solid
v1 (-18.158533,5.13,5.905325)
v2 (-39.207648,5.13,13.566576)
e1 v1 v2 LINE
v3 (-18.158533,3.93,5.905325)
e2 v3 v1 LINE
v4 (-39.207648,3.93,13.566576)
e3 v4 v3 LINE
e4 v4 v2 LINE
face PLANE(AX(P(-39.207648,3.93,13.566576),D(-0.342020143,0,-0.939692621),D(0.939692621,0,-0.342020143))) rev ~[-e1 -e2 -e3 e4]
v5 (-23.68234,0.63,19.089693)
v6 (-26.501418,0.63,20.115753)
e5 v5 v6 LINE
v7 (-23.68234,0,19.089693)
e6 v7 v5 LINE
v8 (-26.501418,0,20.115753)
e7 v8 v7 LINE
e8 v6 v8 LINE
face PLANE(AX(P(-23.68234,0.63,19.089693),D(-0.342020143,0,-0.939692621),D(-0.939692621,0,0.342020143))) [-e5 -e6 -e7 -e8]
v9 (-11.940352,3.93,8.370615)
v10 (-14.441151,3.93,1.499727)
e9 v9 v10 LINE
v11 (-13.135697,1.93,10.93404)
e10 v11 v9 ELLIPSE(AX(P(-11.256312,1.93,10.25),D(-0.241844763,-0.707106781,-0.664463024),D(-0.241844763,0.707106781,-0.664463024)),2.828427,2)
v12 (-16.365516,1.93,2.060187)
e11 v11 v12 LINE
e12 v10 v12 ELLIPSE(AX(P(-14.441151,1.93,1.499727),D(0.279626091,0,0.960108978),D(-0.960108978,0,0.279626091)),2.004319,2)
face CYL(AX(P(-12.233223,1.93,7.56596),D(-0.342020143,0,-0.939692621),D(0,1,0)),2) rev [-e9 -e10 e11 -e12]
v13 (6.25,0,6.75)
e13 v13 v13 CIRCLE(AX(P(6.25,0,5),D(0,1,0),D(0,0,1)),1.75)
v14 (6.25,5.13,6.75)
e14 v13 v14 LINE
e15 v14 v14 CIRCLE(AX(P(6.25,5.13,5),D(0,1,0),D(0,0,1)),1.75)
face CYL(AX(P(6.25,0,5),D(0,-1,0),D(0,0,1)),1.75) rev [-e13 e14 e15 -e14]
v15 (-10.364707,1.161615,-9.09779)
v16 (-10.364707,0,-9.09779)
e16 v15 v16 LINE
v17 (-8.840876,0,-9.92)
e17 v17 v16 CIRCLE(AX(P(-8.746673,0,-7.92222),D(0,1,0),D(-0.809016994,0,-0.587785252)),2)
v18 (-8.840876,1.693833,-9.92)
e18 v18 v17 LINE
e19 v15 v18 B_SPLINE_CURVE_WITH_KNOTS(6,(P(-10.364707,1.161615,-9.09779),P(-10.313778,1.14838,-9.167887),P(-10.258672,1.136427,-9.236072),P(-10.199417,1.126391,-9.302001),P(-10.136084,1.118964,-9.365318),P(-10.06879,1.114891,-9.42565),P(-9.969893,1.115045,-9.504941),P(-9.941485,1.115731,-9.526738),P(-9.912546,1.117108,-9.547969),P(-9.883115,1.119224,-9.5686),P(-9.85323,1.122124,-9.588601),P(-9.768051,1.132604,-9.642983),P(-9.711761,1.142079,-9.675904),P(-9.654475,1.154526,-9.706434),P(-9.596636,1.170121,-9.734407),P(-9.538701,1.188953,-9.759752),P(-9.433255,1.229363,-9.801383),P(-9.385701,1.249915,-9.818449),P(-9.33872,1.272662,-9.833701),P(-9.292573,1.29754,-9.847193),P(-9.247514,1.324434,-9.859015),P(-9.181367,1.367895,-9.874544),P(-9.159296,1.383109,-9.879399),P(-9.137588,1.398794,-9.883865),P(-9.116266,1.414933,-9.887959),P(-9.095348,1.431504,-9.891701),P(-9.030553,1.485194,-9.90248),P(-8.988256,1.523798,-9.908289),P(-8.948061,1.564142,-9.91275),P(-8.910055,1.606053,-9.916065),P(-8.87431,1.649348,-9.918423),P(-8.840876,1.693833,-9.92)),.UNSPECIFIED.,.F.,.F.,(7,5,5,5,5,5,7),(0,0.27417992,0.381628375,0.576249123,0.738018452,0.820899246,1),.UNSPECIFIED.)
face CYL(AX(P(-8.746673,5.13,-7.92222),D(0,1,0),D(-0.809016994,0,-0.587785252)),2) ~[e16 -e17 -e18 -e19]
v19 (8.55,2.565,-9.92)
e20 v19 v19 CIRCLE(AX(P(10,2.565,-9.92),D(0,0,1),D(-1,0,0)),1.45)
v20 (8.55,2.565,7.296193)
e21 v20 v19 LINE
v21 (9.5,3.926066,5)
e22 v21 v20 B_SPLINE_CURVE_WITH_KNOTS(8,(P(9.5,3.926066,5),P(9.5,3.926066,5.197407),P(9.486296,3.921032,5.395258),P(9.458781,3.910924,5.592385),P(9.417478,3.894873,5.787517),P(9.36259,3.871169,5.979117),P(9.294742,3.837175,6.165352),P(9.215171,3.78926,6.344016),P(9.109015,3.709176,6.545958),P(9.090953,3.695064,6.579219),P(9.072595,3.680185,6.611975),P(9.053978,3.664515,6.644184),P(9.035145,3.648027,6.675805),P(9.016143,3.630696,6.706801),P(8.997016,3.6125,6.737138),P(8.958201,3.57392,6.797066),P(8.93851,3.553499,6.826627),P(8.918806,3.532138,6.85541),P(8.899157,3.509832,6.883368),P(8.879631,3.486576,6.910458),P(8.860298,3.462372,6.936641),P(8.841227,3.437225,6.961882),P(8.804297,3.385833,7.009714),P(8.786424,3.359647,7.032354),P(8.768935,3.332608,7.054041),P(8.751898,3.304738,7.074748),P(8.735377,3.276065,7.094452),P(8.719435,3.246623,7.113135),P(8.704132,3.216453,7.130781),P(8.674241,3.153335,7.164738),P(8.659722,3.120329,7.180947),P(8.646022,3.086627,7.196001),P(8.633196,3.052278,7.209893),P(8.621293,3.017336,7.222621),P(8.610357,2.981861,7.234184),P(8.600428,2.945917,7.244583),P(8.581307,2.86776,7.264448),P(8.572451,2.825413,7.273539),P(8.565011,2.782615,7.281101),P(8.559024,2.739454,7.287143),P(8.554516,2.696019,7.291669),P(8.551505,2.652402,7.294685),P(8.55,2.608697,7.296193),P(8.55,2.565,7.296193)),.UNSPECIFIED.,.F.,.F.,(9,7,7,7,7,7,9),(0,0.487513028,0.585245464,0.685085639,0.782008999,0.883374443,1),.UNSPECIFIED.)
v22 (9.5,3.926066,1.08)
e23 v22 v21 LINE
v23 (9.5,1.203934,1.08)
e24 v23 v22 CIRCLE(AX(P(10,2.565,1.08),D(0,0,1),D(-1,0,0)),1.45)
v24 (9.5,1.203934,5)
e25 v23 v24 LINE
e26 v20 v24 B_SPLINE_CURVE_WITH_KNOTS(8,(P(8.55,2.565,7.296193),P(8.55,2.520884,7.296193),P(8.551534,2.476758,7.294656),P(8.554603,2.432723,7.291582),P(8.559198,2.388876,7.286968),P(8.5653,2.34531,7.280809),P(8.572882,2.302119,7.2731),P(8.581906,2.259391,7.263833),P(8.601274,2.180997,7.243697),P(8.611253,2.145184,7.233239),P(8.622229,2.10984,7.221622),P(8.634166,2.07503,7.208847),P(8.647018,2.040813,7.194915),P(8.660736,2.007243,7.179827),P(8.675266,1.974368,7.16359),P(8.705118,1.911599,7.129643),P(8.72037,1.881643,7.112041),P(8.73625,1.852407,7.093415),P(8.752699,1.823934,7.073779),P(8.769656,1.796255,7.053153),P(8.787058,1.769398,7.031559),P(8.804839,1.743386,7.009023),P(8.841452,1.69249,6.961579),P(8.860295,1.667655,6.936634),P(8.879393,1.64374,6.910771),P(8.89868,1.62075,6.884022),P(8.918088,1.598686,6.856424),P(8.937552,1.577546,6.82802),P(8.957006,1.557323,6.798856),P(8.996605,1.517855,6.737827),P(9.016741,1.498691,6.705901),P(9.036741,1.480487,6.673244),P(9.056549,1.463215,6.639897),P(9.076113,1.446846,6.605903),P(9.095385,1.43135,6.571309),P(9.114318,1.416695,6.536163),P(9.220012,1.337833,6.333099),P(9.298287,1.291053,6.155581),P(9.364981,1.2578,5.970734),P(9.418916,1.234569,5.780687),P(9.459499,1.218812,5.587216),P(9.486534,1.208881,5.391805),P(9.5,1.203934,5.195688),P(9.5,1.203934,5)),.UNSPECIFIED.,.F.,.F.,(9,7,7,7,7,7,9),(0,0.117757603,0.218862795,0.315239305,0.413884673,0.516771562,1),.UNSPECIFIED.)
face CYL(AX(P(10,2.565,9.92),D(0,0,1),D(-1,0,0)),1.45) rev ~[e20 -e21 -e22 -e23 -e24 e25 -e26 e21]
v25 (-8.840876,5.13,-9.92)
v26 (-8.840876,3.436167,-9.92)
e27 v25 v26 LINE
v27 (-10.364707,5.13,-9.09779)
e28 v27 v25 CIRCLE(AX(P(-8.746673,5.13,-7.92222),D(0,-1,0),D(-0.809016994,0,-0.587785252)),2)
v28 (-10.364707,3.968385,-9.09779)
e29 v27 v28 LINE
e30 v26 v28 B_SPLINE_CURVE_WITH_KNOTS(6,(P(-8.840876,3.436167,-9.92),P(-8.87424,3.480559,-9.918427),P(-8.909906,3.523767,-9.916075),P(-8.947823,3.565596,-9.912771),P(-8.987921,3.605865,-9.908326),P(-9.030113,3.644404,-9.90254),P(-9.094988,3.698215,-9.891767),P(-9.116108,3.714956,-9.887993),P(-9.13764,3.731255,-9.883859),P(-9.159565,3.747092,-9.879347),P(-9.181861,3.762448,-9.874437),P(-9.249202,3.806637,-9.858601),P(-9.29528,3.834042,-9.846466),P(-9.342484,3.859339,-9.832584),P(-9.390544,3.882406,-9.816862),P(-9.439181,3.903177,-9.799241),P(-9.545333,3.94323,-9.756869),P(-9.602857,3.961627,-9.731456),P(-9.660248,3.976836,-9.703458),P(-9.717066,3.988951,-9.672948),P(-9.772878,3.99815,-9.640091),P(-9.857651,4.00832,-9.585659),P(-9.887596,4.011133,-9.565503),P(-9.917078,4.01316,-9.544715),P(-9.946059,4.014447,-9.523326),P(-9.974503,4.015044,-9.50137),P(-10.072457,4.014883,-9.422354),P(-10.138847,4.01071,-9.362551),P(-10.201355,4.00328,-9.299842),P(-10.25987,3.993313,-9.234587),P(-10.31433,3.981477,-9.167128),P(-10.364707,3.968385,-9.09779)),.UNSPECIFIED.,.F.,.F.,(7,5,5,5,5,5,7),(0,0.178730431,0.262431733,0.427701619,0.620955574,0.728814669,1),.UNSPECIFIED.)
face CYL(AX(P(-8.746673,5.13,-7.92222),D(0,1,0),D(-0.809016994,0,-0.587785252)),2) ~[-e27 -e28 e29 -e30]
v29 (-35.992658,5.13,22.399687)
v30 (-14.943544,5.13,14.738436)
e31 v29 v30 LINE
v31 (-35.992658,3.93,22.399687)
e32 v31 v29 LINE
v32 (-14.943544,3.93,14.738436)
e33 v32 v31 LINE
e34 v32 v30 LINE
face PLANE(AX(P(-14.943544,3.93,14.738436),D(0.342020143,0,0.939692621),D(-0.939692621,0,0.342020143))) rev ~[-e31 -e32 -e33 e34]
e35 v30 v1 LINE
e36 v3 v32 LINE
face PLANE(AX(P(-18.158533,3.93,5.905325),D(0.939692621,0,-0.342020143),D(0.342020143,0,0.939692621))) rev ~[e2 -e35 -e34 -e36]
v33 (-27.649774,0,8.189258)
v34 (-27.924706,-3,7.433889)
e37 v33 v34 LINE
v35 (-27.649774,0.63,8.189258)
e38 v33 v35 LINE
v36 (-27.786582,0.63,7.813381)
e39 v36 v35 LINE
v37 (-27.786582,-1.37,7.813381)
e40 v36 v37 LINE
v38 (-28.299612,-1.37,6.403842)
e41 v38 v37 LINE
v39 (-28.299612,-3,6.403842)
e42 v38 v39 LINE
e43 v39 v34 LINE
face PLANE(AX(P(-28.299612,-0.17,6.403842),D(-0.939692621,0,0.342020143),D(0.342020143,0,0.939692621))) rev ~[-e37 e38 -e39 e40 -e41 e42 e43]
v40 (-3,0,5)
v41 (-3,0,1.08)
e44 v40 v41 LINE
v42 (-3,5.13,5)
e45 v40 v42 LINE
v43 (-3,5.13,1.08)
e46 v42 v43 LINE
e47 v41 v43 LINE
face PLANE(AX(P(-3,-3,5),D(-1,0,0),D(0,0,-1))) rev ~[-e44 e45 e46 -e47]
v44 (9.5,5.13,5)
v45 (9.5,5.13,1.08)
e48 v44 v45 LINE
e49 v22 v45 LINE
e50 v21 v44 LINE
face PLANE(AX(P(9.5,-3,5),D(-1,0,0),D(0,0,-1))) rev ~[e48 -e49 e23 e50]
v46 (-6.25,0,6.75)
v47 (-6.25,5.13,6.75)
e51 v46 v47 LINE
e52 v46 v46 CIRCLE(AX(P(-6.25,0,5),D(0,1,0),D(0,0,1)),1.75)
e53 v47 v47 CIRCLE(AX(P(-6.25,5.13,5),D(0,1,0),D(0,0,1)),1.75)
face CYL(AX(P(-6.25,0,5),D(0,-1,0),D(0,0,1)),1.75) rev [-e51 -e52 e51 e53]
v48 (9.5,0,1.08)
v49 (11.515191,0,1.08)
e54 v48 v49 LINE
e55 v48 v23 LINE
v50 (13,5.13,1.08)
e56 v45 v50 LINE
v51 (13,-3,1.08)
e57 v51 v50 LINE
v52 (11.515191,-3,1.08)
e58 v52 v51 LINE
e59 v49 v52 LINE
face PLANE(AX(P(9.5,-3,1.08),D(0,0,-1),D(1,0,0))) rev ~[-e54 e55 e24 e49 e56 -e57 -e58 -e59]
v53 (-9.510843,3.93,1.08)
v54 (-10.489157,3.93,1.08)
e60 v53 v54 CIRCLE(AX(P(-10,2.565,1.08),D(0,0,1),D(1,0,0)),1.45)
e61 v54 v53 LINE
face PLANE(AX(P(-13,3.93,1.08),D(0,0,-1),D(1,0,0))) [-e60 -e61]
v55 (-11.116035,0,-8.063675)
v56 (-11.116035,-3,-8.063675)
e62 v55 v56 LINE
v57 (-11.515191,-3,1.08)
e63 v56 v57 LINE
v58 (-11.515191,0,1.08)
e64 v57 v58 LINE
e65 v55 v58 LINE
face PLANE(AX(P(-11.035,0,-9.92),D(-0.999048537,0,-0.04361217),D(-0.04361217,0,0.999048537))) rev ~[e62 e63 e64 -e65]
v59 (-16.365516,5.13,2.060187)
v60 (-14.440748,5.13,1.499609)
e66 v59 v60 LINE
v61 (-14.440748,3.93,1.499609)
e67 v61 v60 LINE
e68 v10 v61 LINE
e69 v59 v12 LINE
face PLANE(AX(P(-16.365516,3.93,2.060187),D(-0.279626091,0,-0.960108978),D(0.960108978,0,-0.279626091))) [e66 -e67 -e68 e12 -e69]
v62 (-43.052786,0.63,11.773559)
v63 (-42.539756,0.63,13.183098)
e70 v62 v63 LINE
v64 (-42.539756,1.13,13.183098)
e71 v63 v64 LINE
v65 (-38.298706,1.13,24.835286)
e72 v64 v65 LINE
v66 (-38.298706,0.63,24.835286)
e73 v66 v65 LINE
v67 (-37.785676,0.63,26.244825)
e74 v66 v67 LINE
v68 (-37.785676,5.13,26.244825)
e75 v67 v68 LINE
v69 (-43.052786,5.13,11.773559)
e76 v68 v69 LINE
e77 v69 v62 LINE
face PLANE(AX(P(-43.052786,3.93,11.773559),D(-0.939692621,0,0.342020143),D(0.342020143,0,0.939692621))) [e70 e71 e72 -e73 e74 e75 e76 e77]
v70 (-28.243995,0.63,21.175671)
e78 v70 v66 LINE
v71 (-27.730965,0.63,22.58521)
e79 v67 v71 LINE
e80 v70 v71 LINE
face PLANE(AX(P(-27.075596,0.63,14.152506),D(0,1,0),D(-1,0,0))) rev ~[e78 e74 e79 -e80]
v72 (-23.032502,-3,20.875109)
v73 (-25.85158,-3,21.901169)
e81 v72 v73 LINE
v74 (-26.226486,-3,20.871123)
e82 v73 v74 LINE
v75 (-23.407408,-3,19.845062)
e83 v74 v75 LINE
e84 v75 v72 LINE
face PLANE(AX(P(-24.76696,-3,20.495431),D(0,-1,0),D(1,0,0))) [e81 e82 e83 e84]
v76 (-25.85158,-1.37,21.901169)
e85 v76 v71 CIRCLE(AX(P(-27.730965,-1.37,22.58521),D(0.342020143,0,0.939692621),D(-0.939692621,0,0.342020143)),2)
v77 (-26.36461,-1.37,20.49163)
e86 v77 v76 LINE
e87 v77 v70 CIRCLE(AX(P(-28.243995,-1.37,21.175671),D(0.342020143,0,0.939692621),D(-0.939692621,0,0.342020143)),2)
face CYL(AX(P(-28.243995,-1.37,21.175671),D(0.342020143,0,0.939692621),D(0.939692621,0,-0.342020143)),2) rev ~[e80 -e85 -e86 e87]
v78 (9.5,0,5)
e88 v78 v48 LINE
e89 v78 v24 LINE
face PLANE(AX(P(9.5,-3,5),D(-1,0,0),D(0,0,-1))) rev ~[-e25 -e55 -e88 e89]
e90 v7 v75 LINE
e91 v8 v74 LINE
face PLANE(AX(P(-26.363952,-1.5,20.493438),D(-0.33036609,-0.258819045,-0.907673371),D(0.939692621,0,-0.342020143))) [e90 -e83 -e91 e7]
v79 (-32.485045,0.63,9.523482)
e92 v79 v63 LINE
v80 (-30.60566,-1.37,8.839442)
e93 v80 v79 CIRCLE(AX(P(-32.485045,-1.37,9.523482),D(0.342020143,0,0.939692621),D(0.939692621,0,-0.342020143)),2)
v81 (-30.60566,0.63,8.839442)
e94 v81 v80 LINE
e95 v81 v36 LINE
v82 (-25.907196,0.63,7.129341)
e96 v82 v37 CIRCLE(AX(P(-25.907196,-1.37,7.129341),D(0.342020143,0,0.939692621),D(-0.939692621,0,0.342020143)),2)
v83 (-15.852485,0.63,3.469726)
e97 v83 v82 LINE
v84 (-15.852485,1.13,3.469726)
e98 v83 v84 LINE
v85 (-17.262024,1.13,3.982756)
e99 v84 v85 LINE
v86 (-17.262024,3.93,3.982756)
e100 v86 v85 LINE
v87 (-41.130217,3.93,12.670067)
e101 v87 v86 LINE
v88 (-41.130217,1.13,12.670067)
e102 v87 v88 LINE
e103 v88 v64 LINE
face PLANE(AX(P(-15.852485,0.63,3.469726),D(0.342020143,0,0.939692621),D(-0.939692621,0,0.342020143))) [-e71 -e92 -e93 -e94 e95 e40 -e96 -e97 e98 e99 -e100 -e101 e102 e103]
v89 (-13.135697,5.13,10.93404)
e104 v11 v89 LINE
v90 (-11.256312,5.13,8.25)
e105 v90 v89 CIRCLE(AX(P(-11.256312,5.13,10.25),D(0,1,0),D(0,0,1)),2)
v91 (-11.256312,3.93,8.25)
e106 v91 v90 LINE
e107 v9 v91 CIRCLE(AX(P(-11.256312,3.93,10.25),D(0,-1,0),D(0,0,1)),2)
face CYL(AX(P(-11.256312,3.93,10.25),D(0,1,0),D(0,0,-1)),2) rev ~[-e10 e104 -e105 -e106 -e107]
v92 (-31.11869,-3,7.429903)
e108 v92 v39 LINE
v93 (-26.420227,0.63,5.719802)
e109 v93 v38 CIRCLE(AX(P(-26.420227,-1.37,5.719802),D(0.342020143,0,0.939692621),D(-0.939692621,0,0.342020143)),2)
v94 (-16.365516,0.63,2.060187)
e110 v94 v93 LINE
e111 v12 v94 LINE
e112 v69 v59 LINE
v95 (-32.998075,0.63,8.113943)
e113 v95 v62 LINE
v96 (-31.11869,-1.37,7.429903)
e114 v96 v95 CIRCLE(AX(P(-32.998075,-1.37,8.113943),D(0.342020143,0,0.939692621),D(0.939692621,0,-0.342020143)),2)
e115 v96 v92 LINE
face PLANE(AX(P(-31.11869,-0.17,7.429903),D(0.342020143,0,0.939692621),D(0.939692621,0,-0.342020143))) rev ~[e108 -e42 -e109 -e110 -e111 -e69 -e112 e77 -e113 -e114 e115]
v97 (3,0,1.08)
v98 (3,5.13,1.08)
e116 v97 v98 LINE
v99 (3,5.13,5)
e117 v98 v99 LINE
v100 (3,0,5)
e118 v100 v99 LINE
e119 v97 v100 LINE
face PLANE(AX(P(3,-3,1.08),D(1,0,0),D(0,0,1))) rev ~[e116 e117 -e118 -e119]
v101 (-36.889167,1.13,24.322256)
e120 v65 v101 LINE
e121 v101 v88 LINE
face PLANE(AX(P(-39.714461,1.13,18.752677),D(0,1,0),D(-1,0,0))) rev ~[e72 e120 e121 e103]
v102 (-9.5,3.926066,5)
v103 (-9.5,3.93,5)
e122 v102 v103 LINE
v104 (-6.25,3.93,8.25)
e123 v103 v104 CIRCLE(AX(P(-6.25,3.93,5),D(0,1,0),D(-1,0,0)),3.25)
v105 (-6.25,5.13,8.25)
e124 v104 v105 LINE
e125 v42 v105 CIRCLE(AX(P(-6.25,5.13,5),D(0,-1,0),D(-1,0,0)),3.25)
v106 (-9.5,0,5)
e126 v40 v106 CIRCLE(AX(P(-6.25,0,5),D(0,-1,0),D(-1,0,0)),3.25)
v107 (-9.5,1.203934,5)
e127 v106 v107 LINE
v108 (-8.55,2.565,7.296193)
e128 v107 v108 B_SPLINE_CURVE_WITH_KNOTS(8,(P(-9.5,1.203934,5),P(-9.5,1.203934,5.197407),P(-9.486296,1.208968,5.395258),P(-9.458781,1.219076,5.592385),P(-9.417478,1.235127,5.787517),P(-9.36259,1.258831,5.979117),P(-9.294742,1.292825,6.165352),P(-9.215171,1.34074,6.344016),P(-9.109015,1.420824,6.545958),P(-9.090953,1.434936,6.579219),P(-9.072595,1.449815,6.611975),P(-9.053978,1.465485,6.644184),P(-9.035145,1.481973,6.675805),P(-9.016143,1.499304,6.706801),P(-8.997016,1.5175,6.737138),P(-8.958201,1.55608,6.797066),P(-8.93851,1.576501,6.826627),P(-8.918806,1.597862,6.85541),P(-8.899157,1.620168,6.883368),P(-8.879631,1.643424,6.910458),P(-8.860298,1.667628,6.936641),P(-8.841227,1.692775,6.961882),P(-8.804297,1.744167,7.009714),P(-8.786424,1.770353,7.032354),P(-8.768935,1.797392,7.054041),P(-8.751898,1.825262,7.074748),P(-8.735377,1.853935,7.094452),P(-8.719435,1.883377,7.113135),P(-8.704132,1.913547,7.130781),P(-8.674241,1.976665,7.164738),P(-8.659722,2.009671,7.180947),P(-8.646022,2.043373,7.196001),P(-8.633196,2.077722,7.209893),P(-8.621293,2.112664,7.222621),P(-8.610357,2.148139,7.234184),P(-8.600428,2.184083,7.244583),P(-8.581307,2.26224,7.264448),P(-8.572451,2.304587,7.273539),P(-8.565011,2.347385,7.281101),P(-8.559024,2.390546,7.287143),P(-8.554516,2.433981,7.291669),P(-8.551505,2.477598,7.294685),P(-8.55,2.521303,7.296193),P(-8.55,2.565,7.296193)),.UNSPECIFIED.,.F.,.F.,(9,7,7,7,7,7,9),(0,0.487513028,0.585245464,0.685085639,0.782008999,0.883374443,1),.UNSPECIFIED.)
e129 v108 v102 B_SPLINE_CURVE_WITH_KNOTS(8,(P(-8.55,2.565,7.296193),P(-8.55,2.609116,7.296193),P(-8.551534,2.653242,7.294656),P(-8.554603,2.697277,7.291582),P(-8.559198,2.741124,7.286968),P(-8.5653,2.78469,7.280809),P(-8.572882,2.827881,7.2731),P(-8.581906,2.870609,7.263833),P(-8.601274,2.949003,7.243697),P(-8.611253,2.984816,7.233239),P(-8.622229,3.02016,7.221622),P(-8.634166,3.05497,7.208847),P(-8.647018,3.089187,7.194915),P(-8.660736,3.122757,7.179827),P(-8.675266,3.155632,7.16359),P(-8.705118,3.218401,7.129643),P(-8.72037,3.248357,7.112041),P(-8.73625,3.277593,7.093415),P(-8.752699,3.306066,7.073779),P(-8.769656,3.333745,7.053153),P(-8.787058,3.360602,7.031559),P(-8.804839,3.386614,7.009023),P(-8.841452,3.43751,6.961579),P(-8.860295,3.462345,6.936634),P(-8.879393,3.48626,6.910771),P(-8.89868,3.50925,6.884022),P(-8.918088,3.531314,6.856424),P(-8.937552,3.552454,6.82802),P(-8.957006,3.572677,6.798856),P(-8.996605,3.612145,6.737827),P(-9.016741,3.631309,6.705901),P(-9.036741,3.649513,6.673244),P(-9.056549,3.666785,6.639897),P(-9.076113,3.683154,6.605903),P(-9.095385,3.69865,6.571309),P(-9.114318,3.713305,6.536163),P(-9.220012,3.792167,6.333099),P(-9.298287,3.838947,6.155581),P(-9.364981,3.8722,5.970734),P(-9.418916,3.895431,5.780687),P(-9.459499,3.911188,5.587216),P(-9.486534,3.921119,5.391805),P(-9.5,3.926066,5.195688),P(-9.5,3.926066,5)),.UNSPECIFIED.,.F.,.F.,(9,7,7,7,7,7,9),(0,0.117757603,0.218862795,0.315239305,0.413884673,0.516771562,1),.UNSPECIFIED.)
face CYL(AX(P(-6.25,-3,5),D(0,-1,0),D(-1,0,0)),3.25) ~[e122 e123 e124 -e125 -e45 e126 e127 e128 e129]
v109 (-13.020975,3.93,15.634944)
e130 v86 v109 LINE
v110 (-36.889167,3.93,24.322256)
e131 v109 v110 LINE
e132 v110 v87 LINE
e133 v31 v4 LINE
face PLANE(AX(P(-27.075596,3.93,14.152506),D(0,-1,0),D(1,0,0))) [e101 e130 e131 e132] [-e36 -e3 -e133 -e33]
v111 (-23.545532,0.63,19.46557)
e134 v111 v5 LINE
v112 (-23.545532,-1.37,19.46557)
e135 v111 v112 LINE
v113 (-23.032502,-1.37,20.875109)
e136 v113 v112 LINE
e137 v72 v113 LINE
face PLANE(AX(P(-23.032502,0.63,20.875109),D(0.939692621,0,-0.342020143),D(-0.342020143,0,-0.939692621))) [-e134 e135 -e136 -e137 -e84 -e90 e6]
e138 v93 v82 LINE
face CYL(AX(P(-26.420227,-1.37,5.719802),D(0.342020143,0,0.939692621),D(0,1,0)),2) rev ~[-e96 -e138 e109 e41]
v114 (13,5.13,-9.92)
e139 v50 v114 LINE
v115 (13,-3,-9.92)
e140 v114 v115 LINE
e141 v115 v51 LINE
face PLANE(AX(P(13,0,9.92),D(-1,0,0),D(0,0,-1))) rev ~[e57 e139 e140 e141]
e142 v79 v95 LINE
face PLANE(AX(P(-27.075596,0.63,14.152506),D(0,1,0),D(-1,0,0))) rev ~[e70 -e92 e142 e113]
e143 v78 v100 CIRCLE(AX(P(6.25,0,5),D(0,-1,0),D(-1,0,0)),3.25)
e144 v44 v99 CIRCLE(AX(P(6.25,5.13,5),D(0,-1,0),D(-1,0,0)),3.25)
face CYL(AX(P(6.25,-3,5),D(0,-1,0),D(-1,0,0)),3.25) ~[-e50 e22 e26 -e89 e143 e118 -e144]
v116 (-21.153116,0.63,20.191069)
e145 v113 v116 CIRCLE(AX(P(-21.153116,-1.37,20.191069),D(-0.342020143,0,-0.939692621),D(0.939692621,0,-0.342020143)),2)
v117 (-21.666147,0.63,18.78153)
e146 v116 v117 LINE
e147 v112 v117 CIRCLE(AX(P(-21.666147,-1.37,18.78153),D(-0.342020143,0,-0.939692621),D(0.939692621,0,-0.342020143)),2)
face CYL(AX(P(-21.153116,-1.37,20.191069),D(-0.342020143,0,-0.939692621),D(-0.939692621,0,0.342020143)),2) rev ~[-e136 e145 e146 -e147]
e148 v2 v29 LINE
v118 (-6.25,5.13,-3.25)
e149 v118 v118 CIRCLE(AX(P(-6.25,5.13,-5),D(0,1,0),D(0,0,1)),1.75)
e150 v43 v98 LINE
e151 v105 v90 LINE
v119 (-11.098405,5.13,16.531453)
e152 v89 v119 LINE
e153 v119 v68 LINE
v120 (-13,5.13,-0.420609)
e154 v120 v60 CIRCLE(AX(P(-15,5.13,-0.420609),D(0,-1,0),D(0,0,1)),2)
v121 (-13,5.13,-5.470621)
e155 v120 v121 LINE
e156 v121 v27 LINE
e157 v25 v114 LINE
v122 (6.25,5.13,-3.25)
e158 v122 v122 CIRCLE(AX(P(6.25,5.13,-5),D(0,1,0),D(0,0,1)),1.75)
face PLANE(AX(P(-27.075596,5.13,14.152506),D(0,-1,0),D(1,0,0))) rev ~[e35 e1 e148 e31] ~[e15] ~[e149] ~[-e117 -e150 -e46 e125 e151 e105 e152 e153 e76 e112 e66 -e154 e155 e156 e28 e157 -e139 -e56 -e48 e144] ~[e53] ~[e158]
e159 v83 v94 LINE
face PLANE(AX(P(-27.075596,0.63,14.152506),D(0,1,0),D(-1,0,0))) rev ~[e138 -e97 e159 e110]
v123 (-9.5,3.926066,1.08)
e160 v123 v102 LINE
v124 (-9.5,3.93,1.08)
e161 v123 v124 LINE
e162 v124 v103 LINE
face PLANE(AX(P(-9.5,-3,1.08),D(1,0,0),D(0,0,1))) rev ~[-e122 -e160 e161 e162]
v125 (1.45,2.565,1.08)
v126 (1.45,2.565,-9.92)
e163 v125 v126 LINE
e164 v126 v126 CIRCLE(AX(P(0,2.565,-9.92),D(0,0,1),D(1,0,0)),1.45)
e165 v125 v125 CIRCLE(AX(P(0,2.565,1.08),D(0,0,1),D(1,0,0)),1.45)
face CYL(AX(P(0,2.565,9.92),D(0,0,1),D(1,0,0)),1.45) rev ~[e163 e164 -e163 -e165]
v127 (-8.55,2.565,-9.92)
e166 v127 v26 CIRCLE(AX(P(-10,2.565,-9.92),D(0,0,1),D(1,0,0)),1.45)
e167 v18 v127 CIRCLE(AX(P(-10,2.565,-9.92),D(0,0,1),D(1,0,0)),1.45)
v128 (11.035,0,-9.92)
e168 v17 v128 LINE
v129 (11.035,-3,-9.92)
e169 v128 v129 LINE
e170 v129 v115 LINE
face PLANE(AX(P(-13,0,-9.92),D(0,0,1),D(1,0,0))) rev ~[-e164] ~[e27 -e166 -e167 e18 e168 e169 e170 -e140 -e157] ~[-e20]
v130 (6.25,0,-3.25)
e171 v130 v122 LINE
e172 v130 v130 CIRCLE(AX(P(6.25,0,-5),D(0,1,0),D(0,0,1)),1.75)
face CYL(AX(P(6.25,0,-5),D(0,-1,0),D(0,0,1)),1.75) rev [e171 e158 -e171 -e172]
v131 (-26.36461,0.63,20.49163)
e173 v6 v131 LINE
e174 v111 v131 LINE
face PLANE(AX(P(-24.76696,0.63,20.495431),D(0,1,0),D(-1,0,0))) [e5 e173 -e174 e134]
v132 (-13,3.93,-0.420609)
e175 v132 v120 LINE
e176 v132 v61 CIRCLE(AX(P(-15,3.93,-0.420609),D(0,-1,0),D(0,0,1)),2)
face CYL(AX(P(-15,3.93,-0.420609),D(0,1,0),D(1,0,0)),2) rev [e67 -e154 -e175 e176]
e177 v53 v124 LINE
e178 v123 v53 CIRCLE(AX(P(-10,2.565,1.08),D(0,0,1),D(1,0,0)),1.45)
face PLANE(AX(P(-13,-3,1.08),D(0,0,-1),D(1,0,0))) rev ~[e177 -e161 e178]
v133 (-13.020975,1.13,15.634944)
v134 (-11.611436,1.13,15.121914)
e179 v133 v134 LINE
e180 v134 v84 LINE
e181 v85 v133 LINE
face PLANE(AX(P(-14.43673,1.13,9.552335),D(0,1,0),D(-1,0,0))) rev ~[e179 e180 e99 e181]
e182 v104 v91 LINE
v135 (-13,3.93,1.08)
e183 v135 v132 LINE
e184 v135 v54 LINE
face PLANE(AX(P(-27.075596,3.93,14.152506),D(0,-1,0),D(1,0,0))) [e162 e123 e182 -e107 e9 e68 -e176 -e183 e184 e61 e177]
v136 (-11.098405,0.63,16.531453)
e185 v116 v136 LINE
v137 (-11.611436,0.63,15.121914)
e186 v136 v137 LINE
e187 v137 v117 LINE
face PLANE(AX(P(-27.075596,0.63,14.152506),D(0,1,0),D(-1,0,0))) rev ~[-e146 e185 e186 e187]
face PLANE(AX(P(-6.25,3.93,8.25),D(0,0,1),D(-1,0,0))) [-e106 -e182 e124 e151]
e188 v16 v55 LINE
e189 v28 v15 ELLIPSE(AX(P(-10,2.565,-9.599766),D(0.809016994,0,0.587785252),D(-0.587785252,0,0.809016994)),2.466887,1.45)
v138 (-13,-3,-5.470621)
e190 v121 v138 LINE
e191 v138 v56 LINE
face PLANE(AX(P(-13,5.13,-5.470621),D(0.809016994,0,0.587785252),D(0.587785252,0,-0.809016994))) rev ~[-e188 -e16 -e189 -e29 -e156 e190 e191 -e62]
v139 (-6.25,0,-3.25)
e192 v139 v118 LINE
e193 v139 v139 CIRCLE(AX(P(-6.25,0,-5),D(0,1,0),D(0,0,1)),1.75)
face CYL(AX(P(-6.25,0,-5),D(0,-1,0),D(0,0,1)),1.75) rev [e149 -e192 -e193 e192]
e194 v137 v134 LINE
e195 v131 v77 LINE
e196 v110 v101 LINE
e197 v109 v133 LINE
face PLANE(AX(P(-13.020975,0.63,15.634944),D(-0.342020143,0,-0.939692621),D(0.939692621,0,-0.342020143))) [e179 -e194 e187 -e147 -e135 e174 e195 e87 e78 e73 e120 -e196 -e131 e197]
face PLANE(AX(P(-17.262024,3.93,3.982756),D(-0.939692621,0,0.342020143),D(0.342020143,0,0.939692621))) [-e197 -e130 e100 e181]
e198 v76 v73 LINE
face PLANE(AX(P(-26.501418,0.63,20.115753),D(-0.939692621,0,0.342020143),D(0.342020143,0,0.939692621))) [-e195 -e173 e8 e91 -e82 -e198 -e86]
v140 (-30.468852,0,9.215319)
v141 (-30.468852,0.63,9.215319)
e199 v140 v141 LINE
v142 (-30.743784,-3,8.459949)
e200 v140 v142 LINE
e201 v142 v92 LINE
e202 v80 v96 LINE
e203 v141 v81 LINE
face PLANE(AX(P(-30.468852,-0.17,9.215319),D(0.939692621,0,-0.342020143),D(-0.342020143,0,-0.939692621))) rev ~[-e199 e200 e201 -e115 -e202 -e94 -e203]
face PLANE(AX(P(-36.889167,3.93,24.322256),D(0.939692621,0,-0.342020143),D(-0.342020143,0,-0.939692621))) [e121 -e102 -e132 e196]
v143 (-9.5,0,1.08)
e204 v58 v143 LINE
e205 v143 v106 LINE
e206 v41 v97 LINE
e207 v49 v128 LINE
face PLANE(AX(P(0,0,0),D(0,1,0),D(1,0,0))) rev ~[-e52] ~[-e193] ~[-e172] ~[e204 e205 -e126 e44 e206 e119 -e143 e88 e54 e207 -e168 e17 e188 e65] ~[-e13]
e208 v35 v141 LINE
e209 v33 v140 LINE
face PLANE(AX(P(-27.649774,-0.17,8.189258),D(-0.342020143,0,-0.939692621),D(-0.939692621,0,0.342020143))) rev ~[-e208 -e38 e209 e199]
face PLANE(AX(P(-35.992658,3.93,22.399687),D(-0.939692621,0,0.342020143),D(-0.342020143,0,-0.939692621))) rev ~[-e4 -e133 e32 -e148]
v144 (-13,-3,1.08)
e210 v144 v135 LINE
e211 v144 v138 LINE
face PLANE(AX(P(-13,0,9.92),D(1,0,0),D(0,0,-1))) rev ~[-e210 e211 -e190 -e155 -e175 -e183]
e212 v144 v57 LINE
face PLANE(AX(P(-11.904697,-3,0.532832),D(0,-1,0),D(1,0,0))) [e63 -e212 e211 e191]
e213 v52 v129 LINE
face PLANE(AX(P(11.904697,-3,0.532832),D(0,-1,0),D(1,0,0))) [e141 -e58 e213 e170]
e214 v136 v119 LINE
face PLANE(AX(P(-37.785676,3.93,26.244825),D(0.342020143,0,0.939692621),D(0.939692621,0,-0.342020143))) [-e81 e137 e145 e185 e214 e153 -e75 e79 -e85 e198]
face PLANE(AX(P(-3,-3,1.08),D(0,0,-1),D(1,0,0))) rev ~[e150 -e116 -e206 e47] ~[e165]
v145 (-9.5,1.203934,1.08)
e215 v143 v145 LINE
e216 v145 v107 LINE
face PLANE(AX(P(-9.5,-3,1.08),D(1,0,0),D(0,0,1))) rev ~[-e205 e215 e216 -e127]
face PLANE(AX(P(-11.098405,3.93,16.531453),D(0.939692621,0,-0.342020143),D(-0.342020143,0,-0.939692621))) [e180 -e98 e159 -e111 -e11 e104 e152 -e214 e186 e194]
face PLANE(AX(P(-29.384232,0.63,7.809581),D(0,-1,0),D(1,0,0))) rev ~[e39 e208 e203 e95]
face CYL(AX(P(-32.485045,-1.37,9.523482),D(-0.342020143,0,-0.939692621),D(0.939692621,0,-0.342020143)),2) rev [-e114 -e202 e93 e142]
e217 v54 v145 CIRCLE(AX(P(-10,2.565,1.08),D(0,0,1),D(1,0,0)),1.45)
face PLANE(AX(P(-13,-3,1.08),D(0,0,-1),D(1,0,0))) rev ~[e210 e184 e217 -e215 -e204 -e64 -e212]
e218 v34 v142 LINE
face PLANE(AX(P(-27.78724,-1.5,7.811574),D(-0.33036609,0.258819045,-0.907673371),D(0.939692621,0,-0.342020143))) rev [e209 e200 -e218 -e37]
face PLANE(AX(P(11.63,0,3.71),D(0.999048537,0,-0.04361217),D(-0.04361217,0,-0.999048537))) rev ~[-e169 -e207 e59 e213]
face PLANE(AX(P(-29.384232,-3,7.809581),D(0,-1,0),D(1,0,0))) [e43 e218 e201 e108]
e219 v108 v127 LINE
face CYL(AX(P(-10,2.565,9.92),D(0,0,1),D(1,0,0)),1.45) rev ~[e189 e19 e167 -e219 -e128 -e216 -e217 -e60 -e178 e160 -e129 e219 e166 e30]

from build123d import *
from OCP.BRepFilletAPI import BRepFilletAPI_MakeChamfer

# Parameters (mm, degrees)
SKETCH1_W           = 26
SKETCH1_H           = 19.84
SKETCH1_R           = 1.7499999999999998
BOSS_EXTRUDE1_DEPTH = 5.13
CUT_EXTRUDE1_REACH  = 26.268
SKETCH2_R           = 1.45
BOSS_EXTRUDE2_DEPTH = 3
CUT_EXTRUDE2_REACH  = 20.262
CUT_EXTRUDE3_REACH  = 20.262
BOSS_EXTRUDE3_START = 1.2
BOSS_EXTRUDE3_DEPTH = 1.2
BOSS_EXTRUDE6_DEPTH = 3.3
BOSS_EXTRUDE7_DEPTH = 0.8
CUT_EXTRUDE4_DEPTH  = 0.5
CUT_EXTRUDE5_REACH  = 52.896
BOSS_EXTRUDE8_DEPTH = 2.83
FILLET1_R           = 2
CHAMFER1_SIZE       = 3
CHAMFER1_SIZE2      = 0.8038475772933701


with BuildPart() as part:
    # Sketch1 → Boss-Extrude1 (new body)
    with BuildSketch(Plane(origin=(0, 0, 0), x_dir=(1, 0, 0), z_dir=(0, 1, 0))):
        Rectangle(SKETCH1_W, SKETCH1_H)
        with Locations(Location((6.250000000000003, -4.999999999999995, 0), (0, 0, 270))):
            Circle(SKETCH1_R, mode=Mode.SUBTRACT)
        with Locations(Location((-6.250000000000001, -5, 0), (0, 0, 270))):
            Circle(SKETCH1_R, mode=Mode.SUBTRACT)
        with Locations(Location((-6.250000000000001, 5, 0), (0, 0, 270))):
            Circle(SKETCH1_R, mode=Mode.SUBTRACT)
        with Locations(Location((6.249999999999999, 4.999999999999998, 0), (0, 0, 270))):
            Circle(SKETCH1_R, mode=Mode.SUBTRACT)
    extrude(amount=BOSS_EXTRUDE1_DEPTH)

    # Sketch2 → Cut-Extrude1 (cut, up to next)
    with BuildSketch(Plane.XY.offset(9.92), mode=Mode.PRIVATE) as cut_extrude1_sk1:
        with Locations((0, 2.565)):
            Circle(SKETCH2_R)
    cut_extrude1_tool1 = extrude(cut_extrude1_sk1.sketch, amount=-CUT_EXTRUDE1_REACH, mode=Mode.PRIVATE) & part.part
    # Sketch2 → Cut-Extrude1 (cut, up to next)
    with BuildSketch(Plane.XY.offset(9.92), mode=Mode.PRIVATE) as cut_extrude1_sk2:
        with Locations((-10, 2.565)):
            Circle(SKETCH2_R)
    cut_extrude1_tool2 = extrude(cut_extrude1_sk2.sketch, amount=-CUT_EXTRUDE1_REACH, mode=Mode.PRIVATE) & part.part
    # Sketch2 → Cut-Extrude1 (cut, up to next)
    with BuildSketch(Plane.XY.offset(9.92), mode=Mode.PRIVATE) as cut_extrude1_sk3:
        with Locations(Location((10, 2.565, 0), (0, 0, 180))):
            Circle(SKETCH2_R)
    cut_extrude1_tool3 = extrude(cut_extrude1_sk3.sketch, amount=-CUT_EXTRUDE1_REACH, mode=Mode.PRIVATE) & part.part
    add(cut_extrude1_tool1.solids().sort_by_distance((0, 2.565, 9.92))[0], mode=Mode.SUBTRACT)
    add(cut_extrude1_tool2.solids().sort_by_distance((-10, 2.565, 9.92))[0], mode=Mode.SUBTRACT)
    add(cut_extrude1_tool3.solids().sort_by_distance((10, 2.565, 9.92))[0], mode=Mode.SUBTRACT)

    # Sketch3 → Boss-Extrude2 (add)
    with BuildSketch(Plane.XZ):
        with BuildLine():
            Line((-13, -9.919999999999998), (-11.034999999999997, -9.919999999999998))
            Line((-11.034999999999997, -9.92), (-11.63, 3.710000000000001))
            add(Edge.make_bspline(
                [(-11.63, 3.7100000000000013), (-10.51224572230246, 4.466321985960096), (-10.92, 6.040000000000002)],
                knots=[0, 0, 0, 1, 1, 1], degree=2))
            Line((-10.92, 6.040000000000002), (-9.0061377245509, 9.92))
            Line((-9.0061377245509, 9.92), (-13.000000000000002, 9.92))
            Line((-13.000000000000002, 9.92), (-13, -9.919999999999996))
        make_face()
        with BuildLine():
            Line((11.63, 3.7100000000000044), (11.035000000000004, -9.919999999999996))
            Line((11.035000000000004, -9.92), (13, -9.92))
            Line((12.999999999999998, -9.919999999999998), (12.999999999999995, 9.919999999999998))
            Line((12.999999999999995, 9.919999999999998), (9.006137724550902, 9.919999999999998))
            Line((9.0061377245509, 9.920000000000002), (10.92, 6.0400000000000045))
            add(Edge.make_bspline(
                [(11.63, 3.7100000000000044), (10.512245722302461, 4.466321985960101), (10.92, 6.0400000000000045)],
                knots=[0, 0, 0, 1, 1, 1], degree=2))
        make_face()
    extrude(amount=BOSS_EXTRUDE2_DEPTH)

    # Sketch4 → Cut-Extrude2 (cut, up to next)
    with BuildSketch(Plane.XZ.offset(3), mode=Mode.PRIVATE) as cut_extrude2_sk1:
        with BuildLine():
            Line((-13.000000000000002, 9.92), (-13.000000000000002, 1.0799999999999994))
            Line((-13.000000000000002, 1.0799999999999994), (-9.5, 1.0799999999999994))
            Line((-9.5, 1.0799999999999992), (-9.500000000000002, 5))
            ThreePointArc((-9.5, 4.999999999999999), (-6.250000000000002, 8.25), (-3.000000000000001, 5))
            Line((-3.000000000000001, 5), (-3.000000000000001, 1.0799999999999992))
            Line((-3.0000000000000018, 1.0799999999999994), (3.0000000000000018, 1.0799999999999994))
            Line((3.0000000000000027, 1.0799999999999992), (3.0000000000000036, 4.999999999999995))
            ThreePointArc((3.0000000000000027, 4.999999999999994), (6.250000000000002, 8.249999999999995), (9.500000000000004, 4.999999999999995))
            Line((9.500000000000002, 4.999999999999995), (9.500000000000002, 1.0799999999999992))
            Line((9.500000000000002, 1.0799999999999994), (11.515190755685987, 1.0799999999999994))
            Line((11.515190755685987, 1.0799999999999996), (11.63, 3.710000000000005))
            add(Edge.make_bspline(
                [(10.92, 6.0400000000000045), (10.512245722302461, 4.466321985960101), (11.63, 3.7100000000000044)],
                knots=[0, 0, 0, 1, 1, 1], degree=2))
            Line((10.92, 6.040000000000005), (9.006137724550895, 9.920000000000002))
            Line((9.006137724550895, 9.92), (-13.000000000000002, 9.92))
        make_face()
    cut_extrude2_tool1 = extrude(cut_extrude2_sk1.sketch, amount=-CUT_EXTRUDE2_REACH, mode=Mode.PRIVATE) & part.part
    # Sketch4 → Cut-Extrude2 (cut, up to next)
    with BuildSketch(Plane.XZ.offset(3), mode=Mode.PRIVATE) as cut_extrude2_sk2:
        with BuildLine():
            Line((12.999999999999998, 9.92), (9.006137724550895, 9.92))
            Line((9.006137724550895, 9.920000000000002), (10.92, 6.040000000000005))
            add(Edge.make_bspline(
                [(10.92, 6.0400000000000045), (10.512245722302461, 4.466321985960101), (11.63, 3.7100000000000044)],
                knots=[0, 0, 0, 1, 1, 1], degree=2))
            Line((11.63, 3.710000000000005), (11.515190755685987, 1.0799999999999996))
            Line((11.515190755685987, 1.0799999999999994), (12.999999999999998, 1.0799999999999994))
            Line((12.999999999999998, 1.08), (12.999999999999998, 9.92))
        make_face()
    cut_extrude2_tool2 = extrude(cut_extrude2_sk2.sketch, amount=-CUT_EXTRUDE2_REACH, mode=Mode.PRIVATE) & part.part
    add(cut_extrude2_tool1.solids().sort_by_distance((-1.890933, -3, 6.129401))[0], mode=Mode.SUBTRACT)
    add(cut_extrude2_tool2.solids().sort_by_distance((11.717022, -3, 6.350704))[0], mode=Mode.SUBTRACT)

    # Sketch5 → Cut-Extrude3 (cut, up to next)
    with BuildSketch(Plane(origin=(0, 5.13, 0), x_dir=(1, 0, 0), z_dir=(0, 1, 0)), mode=Mode.PRIVATE) as cut_extrude3_sk1:
        with BuildLine():
            Line((-13.000000000000002, 9.92), (-13.000000000000002, 5.470620579870581))
            Line((-13.000000000000004, 5.470620579870581), (-10.364706936690006, 9.097790307353499))
            ThreePointArc((-10.364706936690006, 9.097790307353499), (-9.696381549071102, 9.682348654000137), (-8.840876363748032, 9.919999999999996))
            Line((-8.840876363748032, 9.92), (-13.000000000000002, 9.92))
        make_face()
    cut_extrude3_tool1 = extrude(cut_extrude3_sk1.sketch, amount=-CUT_EXTRUDE3_REACH, mode=Mode.PRIVATE) & part.part
    add(cut_extrude3_tool1.solids().sort_by_distance((-11.876404, 5.13, -8.463849))[0], mode=Mode.SUBTRACT)

    # Sketch6 → Boss-Extrude3 (add)
    # profile 1 of 3: a face of its own
    with BuildSketch(Plane.XZ.offset(-5.13).offset(BOSS_EXTRUDE3_START)):
        Polygon((-11.098405421888891, 16.531452984385147), (-37.78567585220869, 26.24482505483415), (-43.05278605942399, 11.773558694731163), (-16.36551562910419, 2.060186624282162), (-14.112607804680097, 8.249999999999996), align=None)
        Polygon((-17.262024345294556, 3.9827557704495273), (-41.13021691325662, 12.67006741092152), (-36.88916713601833, 24.322255908666786), (-13.02097456805626, 15.63494426819479), align=None, mode=Mode.SUBTRACT)
    # profile 2 of 3: a face of its own
    with BuildSketch(Plane.XZ.offset(-5.13).offset(BOSS_EXTRUDE3_START)):
        Polygon((-41.13021691325662, 12.67006741092152), (-17.262024345294556, 3.982755770449528), (-13.020974568056259, 15.63494426819479), (-36.88916713601833, 24.322255908666786), align=None)
    # profile 3 of 3: a face of its own
    with BuildSketch(Plane.XZ.offset(-5.13).offset(BOSS_EXTRUDE3_START)):
        with BuildLine():
            Line((-6.250000000000001, 8.25), (-14.1126078046801, 8.249999999999998))
            Line((-14.112607804680097, 8.249999999999996), (-16.36551562910419, 2.060186624282161))
            Line((-16.36551562910419, 2.060186624282161), (-13.000000000000002, 1.0799999999999994))
            Line((-13.000000000000002, 1.0799999999999994), (-9.500000000000002, 1.0799999999999994))
            Line((-9.500000000000002, 1.0799999999999992), (-9.500000000000002, 5))
            ThreePointArc((-9.500000000000002, 5), (-8.54809703885628, 7.29809703885628), (-6.250000000000001, 8.25))
        make_face()
    extrude(amount=-BOSS_EXTRUDE3_DEPTH)

    # Sketch9 → Boss-Extrude6 (add)
    with BuildSketch(Plane.XZ.offset(-3.93)):
        Polygon((-43.052786059423994, 11.773558694731161), (-37.78567585220869, 26.244825054834152), (-11.098405421888893, 16.531452984385147), (-16.36551562910419, 2.060186624282161), align=None)
        Polygon((-41.13021691325663, 12.670067410921524), (-17.262024345294552, 3.982755770449528), (-13.020974568056255, 15.63494426819479), (-36.88916713601834, 24.32225590866679), align=None, mode=Mode.SUBTRACT)
    extrude(amount=BOSS_EXTRUDE6_DEPTH)

    # Sketch10 → Boss-Extrude7 (add)
    with BuildSketch(Plane.XZ.offset(-0.6300000000000003)):
        Polygon((-31.118689775442956, 7.429902874495164), (-28.299611913085236, 6.403842444518162), (-27.64977364076646, 8.189258424011385), (-30.46885150312418, 9.215318853988391), align=None)
        Polygon((-25.85157956822766, 21.901169234598154), (-23.032501705869944, 20.875108804621146), (-23.68233997818871, 19.089692825127923), (-26.50141784054643, 20.115753255104927), align=None)
    extrude(amount=BOSS_EXTRUDE7_DEPTH)

    # Sketch11 → Cut-Extrude4 (cut)
    with BuildSketch(Plane.XZ.offset(-0.6300000000000003)):
        Polygon((-17.262024345294552, 3.982755770449528), (-13.020974568056257, 15.634944268194793), (-11.611435636877394, 15.12191405320629), (-15.852485414115685, 3.469725555461025), align=None)
        Polygon((-36.889167136018344, 24.322255908666797), (-41.13021691325663, 12.670067410921524), (-42.53975584443549, 13.183097625910026), (-38.298706067197195, 24.835286123655298), align=None)
    extrude(amount=-CUT_EXTRUDE4_DEPTH, mode=Mode.SUBTRACT)

    # Sketch12 → Cut-Extrude5 (cut, up to next)
    with BuildSketch(Plane.XZ.offset(-3.93), mode=Mode.PRIVATE) as cut_extrude5_sk1:
        Polygon((-18.15853306148491, 5.9053249166168955), (-14.94354371422362, 14.738435552004432), (-35.99265841982798, 22.399686762499428), (-39.20764776708926, 13.566576127111883), align=None)
    cut_extrude5_tool1 = extrude(cut_extrude5_sk1.sketch, amount=-CUT_EXTRUDE5_REACH, mode=Mode.PRIVATE) & part.part
    add(cut_extrude5_tool1.solids().sort_by_distance((-27.075596, 3.93, 14.152506))[0], mode=Mode.SUBTRACT)

    # Sketch13 → Boss-Extrude8 (add)
    with BuildSketch(Plane.XZ.offset(0.16999999999999968)):
        Polygon((-30.46885150312418, 9.215318853988391), (-31.118689775442956, 7.429902874495164), (-28.299611913085236, 6.403842444518162), (-27.64977364076646, 8.189258424011385), align=None)
        Polygon((-25.85157956822766, 21.901169234598154), (-26.50141784054643, 20.115753255104927), (-23.68233997818871, 19.089692825127923), (-23.032501705869944, 20.875108804621146), align=None)
    extrude(amount=BOSS_EXTRUDE8_DEPTH)

    # Fillet1
    fillet1_edges = [part.edges().sort_by_distance(p)[0] for p in [
        (-30.862174667948704, 0.6300000000000003, 8.134672340084595),
        (-26.10809467572191, 0.6300000000000003, 21.196399769008725),
        (-23.289016813364192, 0.6300000000000003, 20.170339339031717),
        (-28.04309680559098, 0.6300000000000003, 7.108611910107593),
        (-13.000000000000002, 4.529999999999999, 1.0799999999999994),
        (-14.1126078046801, 4.529999999999999, 8.249999999999996),
        (-15.239061716892145, 3.93, 5.155093312141078),
    ]]
    fillet(fillet1_edges, radius=FILLET1_R)

    # Chamfer1: one chamfer whose edges measure the first distance from different faces: ONE call of the kernel's chamfer builder (chamfer() names one face for all edges)
    chamfer1_edges_1 = [part.edges().sort_by_distance(p)[0] for p in [
        (-29.05931257194532, -2.9999999999999996, 8.702288638999889),
    ]]
    chamfer1_side_1 = [part.faces().sort_by_distance(p)[0] for p in [
        (-29.059312571945316, -1.1849999999999996, 8.702288638999887),
    ]]
    chamfer1_edges_2 = [part.edges().sort_by_distance(p)[0] for p in [
        (-25.091878909367573, -2.9999999999999996, 19.602723040116423),
    ]]
    chamfer1_side_2 = [part.faces().sort_by_distance(p)[0] for p in [
        (-25.091878909367573, -1.1849999999999996, 19.602723040116427),
    ]]
    chamfer1 = BRepFilletAPI_MakeChamfer(part.part.solid().wrapped)
    for e in chamfer1_edges_1:
        chamfer1.Add(CHAMFER1_SIZE, CHAMFER1_SIZE2, e.wrapped, chamfer1_side_1[0].wrapped)  # the first distance lies on this face
    for e in chamfer1_edges_2:
        chamfer1.Add(CHAMFER1_SIZE, CHAMFER1_SIZE2, e.wrapped, chamfer1_side_2[0].wrapped)  # the first distance lies on this face
    add(Compound.cast(chamfer1.Shape()), mode=Mode.REPLACE)


solid = part.part
